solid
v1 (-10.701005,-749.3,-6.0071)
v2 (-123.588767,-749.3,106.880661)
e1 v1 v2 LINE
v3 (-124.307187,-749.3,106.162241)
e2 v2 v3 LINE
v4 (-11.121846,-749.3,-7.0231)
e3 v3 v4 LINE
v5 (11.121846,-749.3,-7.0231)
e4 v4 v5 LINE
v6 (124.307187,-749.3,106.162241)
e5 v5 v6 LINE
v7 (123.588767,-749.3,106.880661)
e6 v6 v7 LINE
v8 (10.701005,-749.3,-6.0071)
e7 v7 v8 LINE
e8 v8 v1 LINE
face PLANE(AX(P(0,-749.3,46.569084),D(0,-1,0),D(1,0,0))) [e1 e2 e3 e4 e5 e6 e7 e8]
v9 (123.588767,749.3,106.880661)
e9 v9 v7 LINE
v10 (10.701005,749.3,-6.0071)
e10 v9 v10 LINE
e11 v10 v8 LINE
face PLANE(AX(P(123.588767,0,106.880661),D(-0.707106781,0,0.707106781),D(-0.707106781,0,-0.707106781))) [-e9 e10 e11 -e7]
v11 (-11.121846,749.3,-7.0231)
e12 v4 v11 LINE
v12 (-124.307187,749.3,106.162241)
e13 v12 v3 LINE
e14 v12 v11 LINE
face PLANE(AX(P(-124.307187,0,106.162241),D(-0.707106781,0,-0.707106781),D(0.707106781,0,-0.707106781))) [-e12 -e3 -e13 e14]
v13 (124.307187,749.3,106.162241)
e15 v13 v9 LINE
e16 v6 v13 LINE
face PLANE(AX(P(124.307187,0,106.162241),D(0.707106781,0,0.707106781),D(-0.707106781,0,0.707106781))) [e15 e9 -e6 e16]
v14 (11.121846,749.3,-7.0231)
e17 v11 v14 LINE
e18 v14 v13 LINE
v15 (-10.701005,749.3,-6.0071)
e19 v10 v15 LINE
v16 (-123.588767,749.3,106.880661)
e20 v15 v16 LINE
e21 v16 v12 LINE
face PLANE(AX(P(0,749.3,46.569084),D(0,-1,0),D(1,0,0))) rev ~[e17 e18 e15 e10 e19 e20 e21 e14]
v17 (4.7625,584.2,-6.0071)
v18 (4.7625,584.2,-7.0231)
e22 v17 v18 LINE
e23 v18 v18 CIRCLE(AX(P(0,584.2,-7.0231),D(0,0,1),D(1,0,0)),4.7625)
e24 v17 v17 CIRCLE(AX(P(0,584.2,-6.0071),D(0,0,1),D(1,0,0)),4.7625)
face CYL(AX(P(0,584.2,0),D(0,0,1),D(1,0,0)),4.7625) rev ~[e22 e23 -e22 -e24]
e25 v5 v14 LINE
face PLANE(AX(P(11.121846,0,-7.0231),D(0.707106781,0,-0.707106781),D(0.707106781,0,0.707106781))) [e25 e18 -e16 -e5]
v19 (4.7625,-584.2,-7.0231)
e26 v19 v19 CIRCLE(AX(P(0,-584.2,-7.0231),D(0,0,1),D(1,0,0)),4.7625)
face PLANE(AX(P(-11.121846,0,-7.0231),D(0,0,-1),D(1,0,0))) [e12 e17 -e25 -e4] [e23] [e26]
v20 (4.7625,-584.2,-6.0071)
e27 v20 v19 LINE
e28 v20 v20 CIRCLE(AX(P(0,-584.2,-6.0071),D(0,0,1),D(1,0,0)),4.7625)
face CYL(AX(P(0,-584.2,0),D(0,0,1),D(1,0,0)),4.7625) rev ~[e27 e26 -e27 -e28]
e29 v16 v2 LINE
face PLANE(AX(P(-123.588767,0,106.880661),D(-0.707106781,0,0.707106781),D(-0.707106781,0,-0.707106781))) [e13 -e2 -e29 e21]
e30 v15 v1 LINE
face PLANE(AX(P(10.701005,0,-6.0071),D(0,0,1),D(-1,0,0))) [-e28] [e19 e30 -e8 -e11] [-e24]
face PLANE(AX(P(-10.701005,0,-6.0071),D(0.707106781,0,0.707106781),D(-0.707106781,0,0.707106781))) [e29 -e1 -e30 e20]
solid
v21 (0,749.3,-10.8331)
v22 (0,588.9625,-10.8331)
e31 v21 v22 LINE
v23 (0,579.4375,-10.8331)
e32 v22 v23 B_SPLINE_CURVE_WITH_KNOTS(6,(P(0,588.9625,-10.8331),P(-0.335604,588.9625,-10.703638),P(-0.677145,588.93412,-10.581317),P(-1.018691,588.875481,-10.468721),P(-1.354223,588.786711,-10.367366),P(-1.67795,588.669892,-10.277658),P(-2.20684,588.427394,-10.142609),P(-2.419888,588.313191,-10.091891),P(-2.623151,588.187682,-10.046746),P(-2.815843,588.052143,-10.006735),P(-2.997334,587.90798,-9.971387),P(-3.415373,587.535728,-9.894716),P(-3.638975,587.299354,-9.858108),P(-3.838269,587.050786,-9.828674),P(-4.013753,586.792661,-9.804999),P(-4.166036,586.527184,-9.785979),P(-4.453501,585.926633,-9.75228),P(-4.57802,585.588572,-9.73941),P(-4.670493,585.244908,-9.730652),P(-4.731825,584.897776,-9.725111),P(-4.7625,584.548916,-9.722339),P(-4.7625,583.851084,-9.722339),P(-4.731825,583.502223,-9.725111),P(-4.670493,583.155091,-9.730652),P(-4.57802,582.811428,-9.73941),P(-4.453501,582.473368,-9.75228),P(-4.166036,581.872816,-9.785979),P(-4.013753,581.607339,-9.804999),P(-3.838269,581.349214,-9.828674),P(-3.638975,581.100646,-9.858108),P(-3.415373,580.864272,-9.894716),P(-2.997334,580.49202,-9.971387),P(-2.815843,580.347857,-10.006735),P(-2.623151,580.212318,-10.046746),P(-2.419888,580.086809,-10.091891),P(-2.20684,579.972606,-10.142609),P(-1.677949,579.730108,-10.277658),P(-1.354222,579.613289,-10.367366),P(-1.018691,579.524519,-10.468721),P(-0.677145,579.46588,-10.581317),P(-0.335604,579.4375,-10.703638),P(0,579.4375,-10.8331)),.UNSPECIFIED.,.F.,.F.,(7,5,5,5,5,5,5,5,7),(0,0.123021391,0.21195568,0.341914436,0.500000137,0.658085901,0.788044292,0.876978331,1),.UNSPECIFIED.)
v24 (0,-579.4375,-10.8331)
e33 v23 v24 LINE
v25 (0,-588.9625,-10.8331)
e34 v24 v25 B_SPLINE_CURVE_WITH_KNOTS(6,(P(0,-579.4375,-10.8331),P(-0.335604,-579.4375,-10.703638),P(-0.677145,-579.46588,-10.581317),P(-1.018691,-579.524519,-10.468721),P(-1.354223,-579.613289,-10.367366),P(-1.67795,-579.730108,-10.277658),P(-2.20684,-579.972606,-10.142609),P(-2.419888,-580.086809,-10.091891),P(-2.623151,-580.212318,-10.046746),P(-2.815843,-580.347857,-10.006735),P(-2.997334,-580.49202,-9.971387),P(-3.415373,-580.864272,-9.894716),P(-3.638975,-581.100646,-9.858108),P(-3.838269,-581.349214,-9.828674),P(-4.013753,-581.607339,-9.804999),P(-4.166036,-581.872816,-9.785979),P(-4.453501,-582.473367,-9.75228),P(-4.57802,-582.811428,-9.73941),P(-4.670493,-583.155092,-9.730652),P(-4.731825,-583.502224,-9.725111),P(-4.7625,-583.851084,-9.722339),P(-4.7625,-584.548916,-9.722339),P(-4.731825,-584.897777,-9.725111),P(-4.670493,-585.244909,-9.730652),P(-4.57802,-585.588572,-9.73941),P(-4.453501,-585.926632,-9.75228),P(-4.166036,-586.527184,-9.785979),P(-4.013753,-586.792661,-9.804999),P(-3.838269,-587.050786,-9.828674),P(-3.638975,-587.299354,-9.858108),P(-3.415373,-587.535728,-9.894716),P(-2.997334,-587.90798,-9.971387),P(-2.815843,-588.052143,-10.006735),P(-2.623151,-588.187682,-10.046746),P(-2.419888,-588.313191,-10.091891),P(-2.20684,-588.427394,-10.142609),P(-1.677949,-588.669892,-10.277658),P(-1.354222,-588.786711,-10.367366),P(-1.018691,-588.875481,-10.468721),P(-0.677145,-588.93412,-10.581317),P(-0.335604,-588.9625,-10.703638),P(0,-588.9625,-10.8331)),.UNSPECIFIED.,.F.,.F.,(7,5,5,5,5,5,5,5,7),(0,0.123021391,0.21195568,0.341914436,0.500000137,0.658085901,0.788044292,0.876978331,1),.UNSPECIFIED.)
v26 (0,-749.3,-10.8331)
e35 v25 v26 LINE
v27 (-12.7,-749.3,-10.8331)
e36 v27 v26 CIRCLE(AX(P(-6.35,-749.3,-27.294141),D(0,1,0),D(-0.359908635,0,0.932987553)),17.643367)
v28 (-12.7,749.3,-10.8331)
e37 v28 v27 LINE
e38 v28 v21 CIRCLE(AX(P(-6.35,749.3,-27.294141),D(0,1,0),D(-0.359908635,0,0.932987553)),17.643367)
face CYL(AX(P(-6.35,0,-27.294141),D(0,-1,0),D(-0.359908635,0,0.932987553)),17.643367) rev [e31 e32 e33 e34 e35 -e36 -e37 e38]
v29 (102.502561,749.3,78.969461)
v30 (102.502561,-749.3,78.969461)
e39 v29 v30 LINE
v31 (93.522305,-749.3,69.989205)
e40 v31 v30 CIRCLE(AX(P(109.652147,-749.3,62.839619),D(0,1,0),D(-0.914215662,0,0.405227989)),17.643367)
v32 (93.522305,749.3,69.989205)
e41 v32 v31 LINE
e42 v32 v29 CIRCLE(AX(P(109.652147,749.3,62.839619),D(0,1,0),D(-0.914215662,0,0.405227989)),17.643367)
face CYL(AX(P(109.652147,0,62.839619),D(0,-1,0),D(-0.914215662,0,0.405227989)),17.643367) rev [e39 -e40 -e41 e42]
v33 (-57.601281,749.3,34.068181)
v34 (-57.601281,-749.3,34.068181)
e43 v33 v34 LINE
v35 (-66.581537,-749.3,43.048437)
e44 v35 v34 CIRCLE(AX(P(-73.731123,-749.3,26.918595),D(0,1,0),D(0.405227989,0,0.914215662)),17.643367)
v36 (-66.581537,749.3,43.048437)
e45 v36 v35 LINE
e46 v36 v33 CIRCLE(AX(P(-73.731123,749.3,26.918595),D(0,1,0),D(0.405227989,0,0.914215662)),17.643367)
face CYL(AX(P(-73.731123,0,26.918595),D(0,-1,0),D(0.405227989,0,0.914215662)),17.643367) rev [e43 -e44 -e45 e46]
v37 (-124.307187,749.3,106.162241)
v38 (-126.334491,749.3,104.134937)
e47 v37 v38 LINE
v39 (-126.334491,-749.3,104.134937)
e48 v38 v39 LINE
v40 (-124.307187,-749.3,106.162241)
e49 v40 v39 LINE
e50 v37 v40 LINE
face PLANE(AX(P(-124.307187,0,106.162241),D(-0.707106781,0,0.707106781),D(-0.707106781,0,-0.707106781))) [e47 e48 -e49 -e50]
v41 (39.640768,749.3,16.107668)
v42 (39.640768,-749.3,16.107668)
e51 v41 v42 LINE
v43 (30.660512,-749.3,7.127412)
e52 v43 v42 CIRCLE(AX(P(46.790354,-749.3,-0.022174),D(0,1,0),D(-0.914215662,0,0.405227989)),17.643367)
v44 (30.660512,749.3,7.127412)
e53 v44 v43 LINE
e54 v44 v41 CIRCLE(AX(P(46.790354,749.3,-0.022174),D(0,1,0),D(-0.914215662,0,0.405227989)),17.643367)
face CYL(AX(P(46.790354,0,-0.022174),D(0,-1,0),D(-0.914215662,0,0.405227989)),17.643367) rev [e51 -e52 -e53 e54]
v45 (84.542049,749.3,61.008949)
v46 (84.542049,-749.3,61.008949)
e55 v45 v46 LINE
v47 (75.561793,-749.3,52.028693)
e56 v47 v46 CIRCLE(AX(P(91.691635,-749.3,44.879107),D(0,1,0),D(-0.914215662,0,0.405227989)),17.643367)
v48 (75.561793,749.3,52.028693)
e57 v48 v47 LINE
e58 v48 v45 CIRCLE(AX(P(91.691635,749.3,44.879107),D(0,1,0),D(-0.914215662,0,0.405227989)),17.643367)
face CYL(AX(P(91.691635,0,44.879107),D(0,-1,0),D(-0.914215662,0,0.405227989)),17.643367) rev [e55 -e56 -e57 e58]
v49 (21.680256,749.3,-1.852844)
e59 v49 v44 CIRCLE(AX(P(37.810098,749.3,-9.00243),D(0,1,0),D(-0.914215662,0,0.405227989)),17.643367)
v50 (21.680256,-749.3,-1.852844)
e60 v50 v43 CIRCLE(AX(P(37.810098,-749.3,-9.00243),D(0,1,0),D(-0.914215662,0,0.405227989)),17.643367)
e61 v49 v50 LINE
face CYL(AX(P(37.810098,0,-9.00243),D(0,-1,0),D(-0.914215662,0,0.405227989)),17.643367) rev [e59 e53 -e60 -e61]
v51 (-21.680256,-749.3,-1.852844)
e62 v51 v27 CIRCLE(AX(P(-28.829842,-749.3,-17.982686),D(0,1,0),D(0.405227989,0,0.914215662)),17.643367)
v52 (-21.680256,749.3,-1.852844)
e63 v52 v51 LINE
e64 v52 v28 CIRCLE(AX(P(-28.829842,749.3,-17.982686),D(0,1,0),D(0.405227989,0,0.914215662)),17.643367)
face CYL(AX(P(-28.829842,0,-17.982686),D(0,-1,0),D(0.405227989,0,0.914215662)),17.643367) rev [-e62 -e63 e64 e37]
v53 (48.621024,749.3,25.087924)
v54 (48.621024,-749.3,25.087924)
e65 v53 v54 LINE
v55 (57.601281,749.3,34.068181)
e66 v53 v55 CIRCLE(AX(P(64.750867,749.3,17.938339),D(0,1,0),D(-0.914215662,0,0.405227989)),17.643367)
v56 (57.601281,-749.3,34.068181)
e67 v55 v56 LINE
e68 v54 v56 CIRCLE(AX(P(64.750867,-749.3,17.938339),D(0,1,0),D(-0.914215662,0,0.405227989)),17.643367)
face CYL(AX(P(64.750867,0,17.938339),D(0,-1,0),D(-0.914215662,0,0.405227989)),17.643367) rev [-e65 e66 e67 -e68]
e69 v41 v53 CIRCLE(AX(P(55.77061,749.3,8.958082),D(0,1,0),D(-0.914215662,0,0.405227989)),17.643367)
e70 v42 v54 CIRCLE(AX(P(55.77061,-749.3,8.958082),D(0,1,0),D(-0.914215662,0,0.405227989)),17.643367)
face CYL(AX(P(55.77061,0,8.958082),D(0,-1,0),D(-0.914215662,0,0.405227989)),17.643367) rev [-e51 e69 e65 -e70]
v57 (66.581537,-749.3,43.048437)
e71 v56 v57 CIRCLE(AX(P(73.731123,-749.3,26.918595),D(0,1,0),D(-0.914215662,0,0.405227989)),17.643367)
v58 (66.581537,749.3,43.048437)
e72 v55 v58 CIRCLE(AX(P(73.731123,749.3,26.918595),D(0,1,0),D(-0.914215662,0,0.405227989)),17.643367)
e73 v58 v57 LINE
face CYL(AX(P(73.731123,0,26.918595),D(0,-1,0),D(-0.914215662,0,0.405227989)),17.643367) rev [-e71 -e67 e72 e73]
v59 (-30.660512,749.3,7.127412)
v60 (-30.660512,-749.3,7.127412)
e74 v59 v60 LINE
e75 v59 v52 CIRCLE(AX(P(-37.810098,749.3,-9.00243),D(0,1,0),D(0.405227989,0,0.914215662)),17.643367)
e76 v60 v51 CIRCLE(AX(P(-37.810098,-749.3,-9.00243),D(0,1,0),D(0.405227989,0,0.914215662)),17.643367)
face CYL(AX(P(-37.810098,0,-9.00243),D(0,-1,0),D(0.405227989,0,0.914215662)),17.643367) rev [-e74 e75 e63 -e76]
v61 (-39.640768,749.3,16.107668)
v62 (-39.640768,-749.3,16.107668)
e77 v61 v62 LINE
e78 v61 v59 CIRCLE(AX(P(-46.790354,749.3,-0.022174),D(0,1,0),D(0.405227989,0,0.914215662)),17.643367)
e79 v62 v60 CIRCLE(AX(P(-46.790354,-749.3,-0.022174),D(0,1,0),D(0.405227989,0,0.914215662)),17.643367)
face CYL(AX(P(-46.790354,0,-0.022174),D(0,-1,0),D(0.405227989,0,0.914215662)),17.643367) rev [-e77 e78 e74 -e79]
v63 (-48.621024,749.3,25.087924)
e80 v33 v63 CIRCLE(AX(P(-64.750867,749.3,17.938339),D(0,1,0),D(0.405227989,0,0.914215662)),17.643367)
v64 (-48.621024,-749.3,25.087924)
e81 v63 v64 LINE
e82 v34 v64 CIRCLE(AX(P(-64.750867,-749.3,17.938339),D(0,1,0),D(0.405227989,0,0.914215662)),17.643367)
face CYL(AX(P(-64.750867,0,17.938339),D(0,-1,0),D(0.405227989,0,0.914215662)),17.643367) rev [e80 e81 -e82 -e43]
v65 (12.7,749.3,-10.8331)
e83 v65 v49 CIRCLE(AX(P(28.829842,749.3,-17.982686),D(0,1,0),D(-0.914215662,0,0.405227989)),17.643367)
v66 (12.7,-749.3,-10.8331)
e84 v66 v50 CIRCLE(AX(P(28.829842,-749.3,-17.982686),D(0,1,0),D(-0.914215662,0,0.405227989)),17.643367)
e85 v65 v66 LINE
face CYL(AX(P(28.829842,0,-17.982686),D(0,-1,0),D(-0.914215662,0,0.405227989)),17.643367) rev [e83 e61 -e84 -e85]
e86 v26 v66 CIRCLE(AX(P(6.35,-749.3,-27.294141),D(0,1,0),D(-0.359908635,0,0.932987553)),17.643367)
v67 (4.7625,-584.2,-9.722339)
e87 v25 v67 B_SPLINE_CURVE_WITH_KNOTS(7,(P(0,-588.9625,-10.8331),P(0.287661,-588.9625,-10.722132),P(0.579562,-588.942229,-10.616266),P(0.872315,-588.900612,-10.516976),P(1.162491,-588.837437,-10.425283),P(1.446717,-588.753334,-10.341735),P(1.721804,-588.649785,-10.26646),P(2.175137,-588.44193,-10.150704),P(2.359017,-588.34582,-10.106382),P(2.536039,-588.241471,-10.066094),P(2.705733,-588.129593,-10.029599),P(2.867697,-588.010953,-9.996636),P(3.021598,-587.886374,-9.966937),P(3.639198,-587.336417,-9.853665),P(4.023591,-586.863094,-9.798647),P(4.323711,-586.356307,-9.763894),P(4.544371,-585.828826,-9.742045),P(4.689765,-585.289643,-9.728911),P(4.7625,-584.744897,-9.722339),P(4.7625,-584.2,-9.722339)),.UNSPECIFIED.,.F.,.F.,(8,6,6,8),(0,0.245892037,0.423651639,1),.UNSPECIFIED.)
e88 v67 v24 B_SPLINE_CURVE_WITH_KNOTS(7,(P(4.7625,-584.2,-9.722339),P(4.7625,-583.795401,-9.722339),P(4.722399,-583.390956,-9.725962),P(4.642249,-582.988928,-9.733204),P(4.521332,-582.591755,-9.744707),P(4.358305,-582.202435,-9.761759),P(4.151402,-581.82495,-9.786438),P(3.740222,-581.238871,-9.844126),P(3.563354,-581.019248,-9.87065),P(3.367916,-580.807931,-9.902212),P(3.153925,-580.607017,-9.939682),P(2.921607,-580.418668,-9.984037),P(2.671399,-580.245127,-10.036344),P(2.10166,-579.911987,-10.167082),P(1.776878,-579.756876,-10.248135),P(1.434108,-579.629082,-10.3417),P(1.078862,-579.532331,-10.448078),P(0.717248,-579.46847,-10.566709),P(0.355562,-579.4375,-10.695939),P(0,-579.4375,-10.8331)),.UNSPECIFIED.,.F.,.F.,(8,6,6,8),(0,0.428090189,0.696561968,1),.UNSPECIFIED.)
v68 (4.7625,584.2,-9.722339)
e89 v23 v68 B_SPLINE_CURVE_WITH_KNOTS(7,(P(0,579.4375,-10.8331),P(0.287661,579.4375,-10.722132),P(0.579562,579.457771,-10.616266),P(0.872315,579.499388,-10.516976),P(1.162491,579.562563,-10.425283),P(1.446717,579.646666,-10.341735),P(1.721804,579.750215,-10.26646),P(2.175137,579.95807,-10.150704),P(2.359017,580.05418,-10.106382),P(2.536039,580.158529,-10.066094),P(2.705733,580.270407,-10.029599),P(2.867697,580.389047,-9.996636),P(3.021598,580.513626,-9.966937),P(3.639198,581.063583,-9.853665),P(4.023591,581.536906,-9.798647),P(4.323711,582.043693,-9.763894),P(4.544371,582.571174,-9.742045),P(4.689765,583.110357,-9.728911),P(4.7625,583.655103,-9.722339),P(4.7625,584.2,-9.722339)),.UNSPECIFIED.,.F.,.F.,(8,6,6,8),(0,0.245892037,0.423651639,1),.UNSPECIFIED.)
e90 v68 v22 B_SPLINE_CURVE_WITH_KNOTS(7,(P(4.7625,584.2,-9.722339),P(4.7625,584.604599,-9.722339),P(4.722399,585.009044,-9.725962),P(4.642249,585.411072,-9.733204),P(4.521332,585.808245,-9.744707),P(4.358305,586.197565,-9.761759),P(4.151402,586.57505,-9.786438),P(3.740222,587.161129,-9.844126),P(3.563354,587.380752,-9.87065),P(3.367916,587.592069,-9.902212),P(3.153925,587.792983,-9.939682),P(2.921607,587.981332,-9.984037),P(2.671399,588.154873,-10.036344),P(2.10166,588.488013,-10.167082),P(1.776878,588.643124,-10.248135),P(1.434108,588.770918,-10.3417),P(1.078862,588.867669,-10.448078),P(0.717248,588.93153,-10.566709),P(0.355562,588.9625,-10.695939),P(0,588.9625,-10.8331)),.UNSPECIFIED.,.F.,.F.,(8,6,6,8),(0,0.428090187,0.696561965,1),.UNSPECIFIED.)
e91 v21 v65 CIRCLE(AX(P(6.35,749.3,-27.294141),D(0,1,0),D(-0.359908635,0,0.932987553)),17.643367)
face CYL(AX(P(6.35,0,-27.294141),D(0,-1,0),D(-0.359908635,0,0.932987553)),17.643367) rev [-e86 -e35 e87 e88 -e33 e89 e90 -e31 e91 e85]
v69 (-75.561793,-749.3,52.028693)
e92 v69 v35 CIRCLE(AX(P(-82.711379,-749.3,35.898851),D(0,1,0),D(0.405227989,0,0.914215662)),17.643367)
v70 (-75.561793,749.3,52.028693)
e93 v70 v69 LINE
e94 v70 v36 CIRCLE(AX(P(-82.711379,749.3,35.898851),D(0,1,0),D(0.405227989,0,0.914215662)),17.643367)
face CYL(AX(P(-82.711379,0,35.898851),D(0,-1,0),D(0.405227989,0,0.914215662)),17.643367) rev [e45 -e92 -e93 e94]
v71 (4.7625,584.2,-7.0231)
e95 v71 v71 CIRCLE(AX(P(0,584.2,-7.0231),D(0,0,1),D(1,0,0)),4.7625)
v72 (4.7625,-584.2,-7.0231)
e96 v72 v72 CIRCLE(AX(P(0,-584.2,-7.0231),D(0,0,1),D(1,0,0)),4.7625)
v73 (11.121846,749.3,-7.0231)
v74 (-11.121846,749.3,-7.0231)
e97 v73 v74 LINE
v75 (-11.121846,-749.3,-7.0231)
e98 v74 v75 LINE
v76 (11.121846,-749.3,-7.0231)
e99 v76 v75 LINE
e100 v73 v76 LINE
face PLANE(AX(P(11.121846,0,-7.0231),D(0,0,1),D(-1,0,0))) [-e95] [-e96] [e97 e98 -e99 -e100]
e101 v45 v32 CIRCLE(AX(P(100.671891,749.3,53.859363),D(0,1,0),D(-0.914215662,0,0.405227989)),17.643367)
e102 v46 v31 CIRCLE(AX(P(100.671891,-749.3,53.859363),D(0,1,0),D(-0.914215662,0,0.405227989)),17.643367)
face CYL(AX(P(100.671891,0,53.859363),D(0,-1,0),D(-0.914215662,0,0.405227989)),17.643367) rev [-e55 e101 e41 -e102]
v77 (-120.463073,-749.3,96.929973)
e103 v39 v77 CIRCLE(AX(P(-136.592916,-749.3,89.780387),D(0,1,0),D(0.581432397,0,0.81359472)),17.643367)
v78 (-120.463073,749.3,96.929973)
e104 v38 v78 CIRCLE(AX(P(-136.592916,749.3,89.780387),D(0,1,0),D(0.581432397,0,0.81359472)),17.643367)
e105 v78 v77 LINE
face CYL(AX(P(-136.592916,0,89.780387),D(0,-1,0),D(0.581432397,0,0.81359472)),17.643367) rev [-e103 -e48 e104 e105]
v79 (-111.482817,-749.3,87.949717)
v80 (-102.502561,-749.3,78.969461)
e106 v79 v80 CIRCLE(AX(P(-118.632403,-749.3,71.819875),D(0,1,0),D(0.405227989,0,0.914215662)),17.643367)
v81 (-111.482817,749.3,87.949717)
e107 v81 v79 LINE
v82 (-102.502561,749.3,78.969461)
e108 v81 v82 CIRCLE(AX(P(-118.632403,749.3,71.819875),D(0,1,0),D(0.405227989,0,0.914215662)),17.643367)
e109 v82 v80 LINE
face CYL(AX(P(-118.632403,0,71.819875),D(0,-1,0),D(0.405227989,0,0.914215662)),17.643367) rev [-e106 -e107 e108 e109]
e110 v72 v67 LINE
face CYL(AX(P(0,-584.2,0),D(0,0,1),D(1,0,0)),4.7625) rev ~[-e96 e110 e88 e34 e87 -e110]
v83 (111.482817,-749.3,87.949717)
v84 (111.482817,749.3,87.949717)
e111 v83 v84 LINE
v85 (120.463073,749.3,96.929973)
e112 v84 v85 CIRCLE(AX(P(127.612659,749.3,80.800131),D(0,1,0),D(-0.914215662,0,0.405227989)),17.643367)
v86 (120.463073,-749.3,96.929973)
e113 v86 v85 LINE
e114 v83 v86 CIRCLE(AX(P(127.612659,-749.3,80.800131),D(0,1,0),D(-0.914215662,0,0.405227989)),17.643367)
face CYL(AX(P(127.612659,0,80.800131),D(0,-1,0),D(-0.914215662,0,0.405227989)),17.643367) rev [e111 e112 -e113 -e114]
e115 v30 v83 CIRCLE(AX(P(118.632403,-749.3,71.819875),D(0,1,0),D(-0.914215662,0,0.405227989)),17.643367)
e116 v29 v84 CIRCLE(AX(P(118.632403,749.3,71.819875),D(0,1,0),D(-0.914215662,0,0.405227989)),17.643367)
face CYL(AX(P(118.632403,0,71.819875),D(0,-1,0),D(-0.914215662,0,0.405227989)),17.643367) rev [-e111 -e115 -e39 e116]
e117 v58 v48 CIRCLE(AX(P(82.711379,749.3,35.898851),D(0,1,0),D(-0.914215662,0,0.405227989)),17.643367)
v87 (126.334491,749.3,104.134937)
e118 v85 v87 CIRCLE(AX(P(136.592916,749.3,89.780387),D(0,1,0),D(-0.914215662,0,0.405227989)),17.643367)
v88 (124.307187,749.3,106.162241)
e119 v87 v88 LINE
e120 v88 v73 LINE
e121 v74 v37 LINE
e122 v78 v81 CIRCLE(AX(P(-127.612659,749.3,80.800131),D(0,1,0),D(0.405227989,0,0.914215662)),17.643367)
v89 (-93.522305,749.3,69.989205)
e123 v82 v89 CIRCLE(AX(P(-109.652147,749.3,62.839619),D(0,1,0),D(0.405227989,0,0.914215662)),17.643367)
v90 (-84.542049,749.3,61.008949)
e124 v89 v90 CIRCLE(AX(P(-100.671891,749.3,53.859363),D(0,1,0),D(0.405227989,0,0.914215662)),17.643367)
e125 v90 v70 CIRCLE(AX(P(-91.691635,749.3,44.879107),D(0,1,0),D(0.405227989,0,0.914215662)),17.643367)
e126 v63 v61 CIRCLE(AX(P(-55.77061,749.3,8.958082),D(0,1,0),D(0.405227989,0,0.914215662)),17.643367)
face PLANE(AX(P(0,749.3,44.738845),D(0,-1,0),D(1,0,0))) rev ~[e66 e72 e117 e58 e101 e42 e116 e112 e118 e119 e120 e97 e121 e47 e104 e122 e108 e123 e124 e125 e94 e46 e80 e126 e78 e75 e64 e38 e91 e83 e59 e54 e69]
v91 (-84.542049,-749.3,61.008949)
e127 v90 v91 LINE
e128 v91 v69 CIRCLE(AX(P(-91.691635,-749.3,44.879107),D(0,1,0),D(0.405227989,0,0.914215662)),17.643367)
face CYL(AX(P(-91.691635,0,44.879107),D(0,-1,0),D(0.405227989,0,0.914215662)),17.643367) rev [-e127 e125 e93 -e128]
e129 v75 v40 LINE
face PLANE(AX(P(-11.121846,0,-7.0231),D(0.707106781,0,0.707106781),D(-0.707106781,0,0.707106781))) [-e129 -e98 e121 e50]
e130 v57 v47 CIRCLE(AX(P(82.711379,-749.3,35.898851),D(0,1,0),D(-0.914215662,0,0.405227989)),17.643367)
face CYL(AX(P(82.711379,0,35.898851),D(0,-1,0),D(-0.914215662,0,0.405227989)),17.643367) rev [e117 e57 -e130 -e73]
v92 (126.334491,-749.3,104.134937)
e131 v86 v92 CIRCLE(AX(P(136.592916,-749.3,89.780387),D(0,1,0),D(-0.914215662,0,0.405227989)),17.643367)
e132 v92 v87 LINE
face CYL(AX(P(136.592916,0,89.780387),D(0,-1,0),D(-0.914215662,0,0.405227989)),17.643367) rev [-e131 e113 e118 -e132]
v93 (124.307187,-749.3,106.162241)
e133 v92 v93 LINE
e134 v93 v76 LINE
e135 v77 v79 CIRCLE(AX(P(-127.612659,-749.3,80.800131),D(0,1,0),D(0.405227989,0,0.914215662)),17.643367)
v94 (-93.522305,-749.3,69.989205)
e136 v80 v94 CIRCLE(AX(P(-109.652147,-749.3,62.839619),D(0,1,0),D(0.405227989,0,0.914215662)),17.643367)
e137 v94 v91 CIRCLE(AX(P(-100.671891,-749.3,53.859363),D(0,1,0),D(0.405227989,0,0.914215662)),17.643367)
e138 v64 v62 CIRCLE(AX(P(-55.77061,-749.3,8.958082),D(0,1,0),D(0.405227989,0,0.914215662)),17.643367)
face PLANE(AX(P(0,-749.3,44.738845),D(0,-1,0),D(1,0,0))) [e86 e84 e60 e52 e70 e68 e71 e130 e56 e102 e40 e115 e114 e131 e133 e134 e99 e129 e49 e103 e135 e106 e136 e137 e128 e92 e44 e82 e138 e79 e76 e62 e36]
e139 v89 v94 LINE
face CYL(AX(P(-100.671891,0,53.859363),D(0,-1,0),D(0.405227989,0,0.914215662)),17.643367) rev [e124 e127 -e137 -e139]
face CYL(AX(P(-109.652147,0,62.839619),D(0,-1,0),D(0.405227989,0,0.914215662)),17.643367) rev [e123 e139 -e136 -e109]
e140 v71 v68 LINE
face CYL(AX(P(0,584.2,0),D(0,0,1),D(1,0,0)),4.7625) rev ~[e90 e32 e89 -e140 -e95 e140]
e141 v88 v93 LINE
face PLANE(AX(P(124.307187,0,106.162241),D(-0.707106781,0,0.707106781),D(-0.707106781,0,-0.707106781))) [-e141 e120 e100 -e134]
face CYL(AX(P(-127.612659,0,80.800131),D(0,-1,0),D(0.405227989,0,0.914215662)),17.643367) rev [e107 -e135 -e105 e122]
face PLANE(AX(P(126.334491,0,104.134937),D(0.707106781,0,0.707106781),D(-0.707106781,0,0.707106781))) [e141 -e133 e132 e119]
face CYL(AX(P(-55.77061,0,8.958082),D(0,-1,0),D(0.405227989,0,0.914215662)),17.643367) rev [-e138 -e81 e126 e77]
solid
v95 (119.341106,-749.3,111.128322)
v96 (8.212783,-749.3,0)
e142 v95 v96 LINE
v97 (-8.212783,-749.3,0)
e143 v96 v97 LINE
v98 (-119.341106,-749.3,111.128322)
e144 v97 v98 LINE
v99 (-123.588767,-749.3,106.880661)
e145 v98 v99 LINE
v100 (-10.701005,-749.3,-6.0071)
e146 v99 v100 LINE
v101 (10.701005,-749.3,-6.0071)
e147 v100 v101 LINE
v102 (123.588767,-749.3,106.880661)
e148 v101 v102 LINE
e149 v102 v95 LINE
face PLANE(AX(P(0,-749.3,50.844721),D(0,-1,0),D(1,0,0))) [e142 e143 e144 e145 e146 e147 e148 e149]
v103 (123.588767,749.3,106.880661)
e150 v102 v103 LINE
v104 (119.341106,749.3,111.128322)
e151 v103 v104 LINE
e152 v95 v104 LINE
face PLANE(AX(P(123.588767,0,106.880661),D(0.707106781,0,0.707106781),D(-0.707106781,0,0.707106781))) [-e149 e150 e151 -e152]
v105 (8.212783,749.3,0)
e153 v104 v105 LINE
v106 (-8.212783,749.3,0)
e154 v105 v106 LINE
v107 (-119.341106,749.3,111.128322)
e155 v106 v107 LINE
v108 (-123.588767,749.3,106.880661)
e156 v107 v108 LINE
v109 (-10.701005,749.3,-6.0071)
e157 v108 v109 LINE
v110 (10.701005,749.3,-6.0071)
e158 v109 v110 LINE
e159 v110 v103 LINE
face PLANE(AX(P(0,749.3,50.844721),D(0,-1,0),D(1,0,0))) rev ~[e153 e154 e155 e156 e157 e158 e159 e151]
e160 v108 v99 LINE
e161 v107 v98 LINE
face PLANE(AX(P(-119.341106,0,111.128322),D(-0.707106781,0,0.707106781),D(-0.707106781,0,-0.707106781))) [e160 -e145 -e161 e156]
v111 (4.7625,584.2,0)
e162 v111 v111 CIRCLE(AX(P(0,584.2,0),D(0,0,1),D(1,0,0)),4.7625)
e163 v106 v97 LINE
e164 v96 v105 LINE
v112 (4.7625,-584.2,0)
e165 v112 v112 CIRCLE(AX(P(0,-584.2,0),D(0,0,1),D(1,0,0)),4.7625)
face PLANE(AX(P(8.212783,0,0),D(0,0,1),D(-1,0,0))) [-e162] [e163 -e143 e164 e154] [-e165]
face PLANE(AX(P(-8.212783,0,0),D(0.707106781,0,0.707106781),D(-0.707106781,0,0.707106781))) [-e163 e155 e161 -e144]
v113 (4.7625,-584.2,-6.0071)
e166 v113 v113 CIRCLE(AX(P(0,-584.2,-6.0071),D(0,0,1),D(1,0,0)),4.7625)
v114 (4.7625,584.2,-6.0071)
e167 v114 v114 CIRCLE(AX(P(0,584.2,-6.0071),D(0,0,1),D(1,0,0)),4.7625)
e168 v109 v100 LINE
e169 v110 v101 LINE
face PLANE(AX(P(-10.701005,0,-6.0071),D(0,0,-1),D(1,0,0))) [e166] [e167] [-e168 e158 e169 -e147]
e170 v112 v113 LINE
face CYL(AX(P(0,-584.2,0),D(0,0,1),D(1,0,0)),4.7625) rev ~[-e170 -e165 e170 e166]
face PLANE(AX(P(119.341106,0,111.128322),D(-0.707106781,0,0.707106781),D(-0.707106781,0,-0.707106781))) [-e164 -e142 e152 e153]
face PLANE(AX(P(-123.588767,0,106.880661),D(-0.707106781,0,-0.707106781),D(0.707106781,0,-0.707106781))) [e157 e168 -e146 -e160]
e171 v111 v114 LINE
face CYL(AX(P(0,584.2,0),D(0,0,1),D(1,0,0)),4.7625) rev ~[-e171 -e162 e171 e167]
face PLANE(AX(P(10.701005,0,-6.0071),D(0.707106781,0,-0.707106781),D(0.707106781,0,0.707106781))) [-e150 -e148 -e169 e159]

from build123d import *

# Parameters (mm, degrees)
F1_DEPTH = 749.3
F2_DEPTH = 749.3
F3_DEPTH = 749.3
F4_R     = 4.7625
F5_DEPTH = 10.8341


with BuildPart() as f1:
    # F0 (on Front) → F1 (new body, symmetric)
    with BuildSketch(Plane.XZ):
        Polygon((8.2127830575, 0), (0, 0), (-8.2127830575, 0), (-119.3411055301, 111.1283224727), (-123.5887666754, 106.8806613274), (-10.701005348, -6.0071), (0, -6.0071), (10.701005348, -6.0071), (123.5887666754, 106.8806613274), (119.3411055301, 111.1283224727), align=None)
    extrude(amount=F1_DEPTH, both=True)


with BuildPart() as f2:
    # F0 (on Front) → F2 (new body, symmetric)
    with BuildSketch(Plane.XZ):
        Polygon((124.3071871651, 106.1622408377), (123.5887666754, 106.8806613274), (10.701005348, -6.0071), (0, -6.0071), (-10.701005348, -6.0071), (-123.5887666754, 106.8806613274), (-124.3071871651, 106.1622408377), (-11.1218463274, -7.0231), (0, -7.0231), (11.1218463274, -7.0231), align=None)
    extrude(amount=F2_DEPTH, both=True)


with BuildPart() as f3:
    # F0 (on Front) → F3 (new body, symmetric)
    with BuildSketch(Plane.XZ):
        with BuildLine():
            Line((126.3344906062, 104.1349373966), (124.3071871651, 106.1622408377))
            Line((124.3071871651, 106.1622408377), (11.1218463274, -7.0231))
            Line((11.1218463274, -7.0231), (0, -7.0231))
            Line((0, -7.0231), (-11.1218463274, -7.0231))
            Line((-11.1218463274, -7.0231), (-124.3071871651, 106.1622408377))
            Line((-124.3071871651, 106.1622408377), (-126.3344906062, 104.1349373966))
            ThreePointArc((-126.3344906062, 104.1349373966), (-122.9158165988, 100.9260301236), (-120.4630734528, 96.9299734528))
            ThreePointArc((-120.4630734528, 96.9299734528), (-115.136915248, 93.2758755366), (-111.4828173318, 87.9497173318))
            ThreePointArc((-111.4828173318, 87.9497173318), (-106.1566591269, 84.2956194155), (-102.5025612107, 78.9694612107))
            ThreePointArc((-102.5025612107, 78.9694612107), (-97.1764030059, 75.3153632944), (-93.5223050896, 69.9892050896))
            ThreePointArc((-93.5223050896, 69.9892050896), (-88.1961468848, 66.3351071734), (-84.5420489686, 61.0089489686))
            ThreePointArc((-84.5420489686, 61.0089489686), (-79.2158907637, 57.3548510523), (-75.5617928475, 52.0286928475))
            ThreePointArc((-75.5617928475, 52.0286928475), (-70.2356346427, 48.3745949312), (-66.5815367264, 43.0484367264))
            ThreePointArc((-66.5815367264, 43.0484367264), (-61.2553785216, 39.3943388102), (-57.6012806053, 34.0681806053))
            ThreePointArc((-57.6012806053, 34.0681806053), (-52.2751224005, 30.4140826891), (-48.6210244843, 25.0879244843))
            ThreePointArc((-48.6210244843, 25.0879244843), (-43.2948662795, 21.433826568), (-39.6407683632, 16.1076683632))
            ThreePointArc((-39.6407683632, 16.1076683632), (-34.3146101584, 12.453570447), (-30.6605122421, 7.1274122421))
            ThreePointArc((-30.6605122421, 7.1274122421), (-25.3343540373, 3.4733143259), (-21.6802561211, -1.8528438789))
            ThreePointArc((-21.6802561211, -1.8528438789), (-16.3540979162, -5.5069417952), (-12.7, -10.8331))
            ThreePointArc((-12.7, -10.8331), (-6.35, -9.6507748314), (0, -10.8331))
            ThreePointArc((0, -10.8331), (6.35, -9.6507748314), (12.7, -10.8331))
            ThreePointArc((12.7, -10.8331), (16.3540979162, -5.5069417952), (21.6802561211, -1.8528438789))
            ThreePointArc((21.6802561211, -1.8528438789), (25.3343540373, 3.4733143259), (30.6605122421, 7.1274122421))
            ThreePointArc((30.6605122421, 7.1274122421), (34.3146101584, 12.453570447), (39.6407683632, 16.1076683632))
            ThreePointArc((39.6407683632, 16.1076683632), (43.2948662795, 21.433826568), (48.6210244843, 25.0879244843))
            ThreePointArc((48.6210244843, 25.0879244843), (52.2751224005, 30.4140826891), (57.6012806053, 34.0681806053))
            ThreePointArc((57.6012806053, 34.0681806053), (61.2553785216, 39.3943388102), (66.5815367264, 43.0484367264))
            ThreePointArc((66.5815367264, 43.0484367264), (70.2356346427, 48.3745949312), (75.5617928475, 52.0286928475))
            ThreePointArc((75.5617928475, 52.0286928475), (79.2158907637, 57.3548510523), (84.5420489686, 61.0089489686))
            ThreePointArc((84.5420489686, 61.0089489686), (88.1961468848, 66.3351071734), (93.5223050896, 69.9892050896))
            ThreePointArc((93.5223050896, 69.9892050896), (97.1764030059, 75.3153632944), (102.5025612107, 78.9694612107))
            ThreePointArc((102.5025612107, 78.9694612107), (106.1566591269, 84.2956194155), (111.4828173318, 87.9497173318))
            ThreePointArc((111.4828173318, 87.9497173318), (115.136915248, 93.2758755366), (120.4630734528, 96.9299734528))
            ThreePointArc((120.4630734528, 96.9299734528), (122.9158165988, 100.9260301236), (126.3344906062, 104.1349373966))
        make_face()
    extrude(amount=F3_DEPTH, both=True)


with BuildPart() as f5_tool:
    # F4 (on Top) → F5 (new body, through all)
    with BuildSketch(Plane.XY):
        with Locations((0, 584.2)):
            Circle(F4_R)
        with Locations((0, -584.2)):
            Circle(F4_R)
    extrude(amount=-F5_DEPTH)


with BuildPart() as f1_1:
    add(f1.part)

    # F5: cut by f5_tool
    add(f5_tool.part, mode=Mode.SUBTRACT)


with BuildPart() as f2_1:
    add(f2.part)

    # F5: cut by f5_tool
    add(f5_tool.part, mode=Mode.SUBTRACT)


with BuildPart() as f3_1:
    add(f3.part)

    # F5: cut by f5_tool
    add(f5_tool.part, mode=Mode.SUBTRACT)


solid = Compound([f1_1.part, f2_1.part, f3_1.part])
